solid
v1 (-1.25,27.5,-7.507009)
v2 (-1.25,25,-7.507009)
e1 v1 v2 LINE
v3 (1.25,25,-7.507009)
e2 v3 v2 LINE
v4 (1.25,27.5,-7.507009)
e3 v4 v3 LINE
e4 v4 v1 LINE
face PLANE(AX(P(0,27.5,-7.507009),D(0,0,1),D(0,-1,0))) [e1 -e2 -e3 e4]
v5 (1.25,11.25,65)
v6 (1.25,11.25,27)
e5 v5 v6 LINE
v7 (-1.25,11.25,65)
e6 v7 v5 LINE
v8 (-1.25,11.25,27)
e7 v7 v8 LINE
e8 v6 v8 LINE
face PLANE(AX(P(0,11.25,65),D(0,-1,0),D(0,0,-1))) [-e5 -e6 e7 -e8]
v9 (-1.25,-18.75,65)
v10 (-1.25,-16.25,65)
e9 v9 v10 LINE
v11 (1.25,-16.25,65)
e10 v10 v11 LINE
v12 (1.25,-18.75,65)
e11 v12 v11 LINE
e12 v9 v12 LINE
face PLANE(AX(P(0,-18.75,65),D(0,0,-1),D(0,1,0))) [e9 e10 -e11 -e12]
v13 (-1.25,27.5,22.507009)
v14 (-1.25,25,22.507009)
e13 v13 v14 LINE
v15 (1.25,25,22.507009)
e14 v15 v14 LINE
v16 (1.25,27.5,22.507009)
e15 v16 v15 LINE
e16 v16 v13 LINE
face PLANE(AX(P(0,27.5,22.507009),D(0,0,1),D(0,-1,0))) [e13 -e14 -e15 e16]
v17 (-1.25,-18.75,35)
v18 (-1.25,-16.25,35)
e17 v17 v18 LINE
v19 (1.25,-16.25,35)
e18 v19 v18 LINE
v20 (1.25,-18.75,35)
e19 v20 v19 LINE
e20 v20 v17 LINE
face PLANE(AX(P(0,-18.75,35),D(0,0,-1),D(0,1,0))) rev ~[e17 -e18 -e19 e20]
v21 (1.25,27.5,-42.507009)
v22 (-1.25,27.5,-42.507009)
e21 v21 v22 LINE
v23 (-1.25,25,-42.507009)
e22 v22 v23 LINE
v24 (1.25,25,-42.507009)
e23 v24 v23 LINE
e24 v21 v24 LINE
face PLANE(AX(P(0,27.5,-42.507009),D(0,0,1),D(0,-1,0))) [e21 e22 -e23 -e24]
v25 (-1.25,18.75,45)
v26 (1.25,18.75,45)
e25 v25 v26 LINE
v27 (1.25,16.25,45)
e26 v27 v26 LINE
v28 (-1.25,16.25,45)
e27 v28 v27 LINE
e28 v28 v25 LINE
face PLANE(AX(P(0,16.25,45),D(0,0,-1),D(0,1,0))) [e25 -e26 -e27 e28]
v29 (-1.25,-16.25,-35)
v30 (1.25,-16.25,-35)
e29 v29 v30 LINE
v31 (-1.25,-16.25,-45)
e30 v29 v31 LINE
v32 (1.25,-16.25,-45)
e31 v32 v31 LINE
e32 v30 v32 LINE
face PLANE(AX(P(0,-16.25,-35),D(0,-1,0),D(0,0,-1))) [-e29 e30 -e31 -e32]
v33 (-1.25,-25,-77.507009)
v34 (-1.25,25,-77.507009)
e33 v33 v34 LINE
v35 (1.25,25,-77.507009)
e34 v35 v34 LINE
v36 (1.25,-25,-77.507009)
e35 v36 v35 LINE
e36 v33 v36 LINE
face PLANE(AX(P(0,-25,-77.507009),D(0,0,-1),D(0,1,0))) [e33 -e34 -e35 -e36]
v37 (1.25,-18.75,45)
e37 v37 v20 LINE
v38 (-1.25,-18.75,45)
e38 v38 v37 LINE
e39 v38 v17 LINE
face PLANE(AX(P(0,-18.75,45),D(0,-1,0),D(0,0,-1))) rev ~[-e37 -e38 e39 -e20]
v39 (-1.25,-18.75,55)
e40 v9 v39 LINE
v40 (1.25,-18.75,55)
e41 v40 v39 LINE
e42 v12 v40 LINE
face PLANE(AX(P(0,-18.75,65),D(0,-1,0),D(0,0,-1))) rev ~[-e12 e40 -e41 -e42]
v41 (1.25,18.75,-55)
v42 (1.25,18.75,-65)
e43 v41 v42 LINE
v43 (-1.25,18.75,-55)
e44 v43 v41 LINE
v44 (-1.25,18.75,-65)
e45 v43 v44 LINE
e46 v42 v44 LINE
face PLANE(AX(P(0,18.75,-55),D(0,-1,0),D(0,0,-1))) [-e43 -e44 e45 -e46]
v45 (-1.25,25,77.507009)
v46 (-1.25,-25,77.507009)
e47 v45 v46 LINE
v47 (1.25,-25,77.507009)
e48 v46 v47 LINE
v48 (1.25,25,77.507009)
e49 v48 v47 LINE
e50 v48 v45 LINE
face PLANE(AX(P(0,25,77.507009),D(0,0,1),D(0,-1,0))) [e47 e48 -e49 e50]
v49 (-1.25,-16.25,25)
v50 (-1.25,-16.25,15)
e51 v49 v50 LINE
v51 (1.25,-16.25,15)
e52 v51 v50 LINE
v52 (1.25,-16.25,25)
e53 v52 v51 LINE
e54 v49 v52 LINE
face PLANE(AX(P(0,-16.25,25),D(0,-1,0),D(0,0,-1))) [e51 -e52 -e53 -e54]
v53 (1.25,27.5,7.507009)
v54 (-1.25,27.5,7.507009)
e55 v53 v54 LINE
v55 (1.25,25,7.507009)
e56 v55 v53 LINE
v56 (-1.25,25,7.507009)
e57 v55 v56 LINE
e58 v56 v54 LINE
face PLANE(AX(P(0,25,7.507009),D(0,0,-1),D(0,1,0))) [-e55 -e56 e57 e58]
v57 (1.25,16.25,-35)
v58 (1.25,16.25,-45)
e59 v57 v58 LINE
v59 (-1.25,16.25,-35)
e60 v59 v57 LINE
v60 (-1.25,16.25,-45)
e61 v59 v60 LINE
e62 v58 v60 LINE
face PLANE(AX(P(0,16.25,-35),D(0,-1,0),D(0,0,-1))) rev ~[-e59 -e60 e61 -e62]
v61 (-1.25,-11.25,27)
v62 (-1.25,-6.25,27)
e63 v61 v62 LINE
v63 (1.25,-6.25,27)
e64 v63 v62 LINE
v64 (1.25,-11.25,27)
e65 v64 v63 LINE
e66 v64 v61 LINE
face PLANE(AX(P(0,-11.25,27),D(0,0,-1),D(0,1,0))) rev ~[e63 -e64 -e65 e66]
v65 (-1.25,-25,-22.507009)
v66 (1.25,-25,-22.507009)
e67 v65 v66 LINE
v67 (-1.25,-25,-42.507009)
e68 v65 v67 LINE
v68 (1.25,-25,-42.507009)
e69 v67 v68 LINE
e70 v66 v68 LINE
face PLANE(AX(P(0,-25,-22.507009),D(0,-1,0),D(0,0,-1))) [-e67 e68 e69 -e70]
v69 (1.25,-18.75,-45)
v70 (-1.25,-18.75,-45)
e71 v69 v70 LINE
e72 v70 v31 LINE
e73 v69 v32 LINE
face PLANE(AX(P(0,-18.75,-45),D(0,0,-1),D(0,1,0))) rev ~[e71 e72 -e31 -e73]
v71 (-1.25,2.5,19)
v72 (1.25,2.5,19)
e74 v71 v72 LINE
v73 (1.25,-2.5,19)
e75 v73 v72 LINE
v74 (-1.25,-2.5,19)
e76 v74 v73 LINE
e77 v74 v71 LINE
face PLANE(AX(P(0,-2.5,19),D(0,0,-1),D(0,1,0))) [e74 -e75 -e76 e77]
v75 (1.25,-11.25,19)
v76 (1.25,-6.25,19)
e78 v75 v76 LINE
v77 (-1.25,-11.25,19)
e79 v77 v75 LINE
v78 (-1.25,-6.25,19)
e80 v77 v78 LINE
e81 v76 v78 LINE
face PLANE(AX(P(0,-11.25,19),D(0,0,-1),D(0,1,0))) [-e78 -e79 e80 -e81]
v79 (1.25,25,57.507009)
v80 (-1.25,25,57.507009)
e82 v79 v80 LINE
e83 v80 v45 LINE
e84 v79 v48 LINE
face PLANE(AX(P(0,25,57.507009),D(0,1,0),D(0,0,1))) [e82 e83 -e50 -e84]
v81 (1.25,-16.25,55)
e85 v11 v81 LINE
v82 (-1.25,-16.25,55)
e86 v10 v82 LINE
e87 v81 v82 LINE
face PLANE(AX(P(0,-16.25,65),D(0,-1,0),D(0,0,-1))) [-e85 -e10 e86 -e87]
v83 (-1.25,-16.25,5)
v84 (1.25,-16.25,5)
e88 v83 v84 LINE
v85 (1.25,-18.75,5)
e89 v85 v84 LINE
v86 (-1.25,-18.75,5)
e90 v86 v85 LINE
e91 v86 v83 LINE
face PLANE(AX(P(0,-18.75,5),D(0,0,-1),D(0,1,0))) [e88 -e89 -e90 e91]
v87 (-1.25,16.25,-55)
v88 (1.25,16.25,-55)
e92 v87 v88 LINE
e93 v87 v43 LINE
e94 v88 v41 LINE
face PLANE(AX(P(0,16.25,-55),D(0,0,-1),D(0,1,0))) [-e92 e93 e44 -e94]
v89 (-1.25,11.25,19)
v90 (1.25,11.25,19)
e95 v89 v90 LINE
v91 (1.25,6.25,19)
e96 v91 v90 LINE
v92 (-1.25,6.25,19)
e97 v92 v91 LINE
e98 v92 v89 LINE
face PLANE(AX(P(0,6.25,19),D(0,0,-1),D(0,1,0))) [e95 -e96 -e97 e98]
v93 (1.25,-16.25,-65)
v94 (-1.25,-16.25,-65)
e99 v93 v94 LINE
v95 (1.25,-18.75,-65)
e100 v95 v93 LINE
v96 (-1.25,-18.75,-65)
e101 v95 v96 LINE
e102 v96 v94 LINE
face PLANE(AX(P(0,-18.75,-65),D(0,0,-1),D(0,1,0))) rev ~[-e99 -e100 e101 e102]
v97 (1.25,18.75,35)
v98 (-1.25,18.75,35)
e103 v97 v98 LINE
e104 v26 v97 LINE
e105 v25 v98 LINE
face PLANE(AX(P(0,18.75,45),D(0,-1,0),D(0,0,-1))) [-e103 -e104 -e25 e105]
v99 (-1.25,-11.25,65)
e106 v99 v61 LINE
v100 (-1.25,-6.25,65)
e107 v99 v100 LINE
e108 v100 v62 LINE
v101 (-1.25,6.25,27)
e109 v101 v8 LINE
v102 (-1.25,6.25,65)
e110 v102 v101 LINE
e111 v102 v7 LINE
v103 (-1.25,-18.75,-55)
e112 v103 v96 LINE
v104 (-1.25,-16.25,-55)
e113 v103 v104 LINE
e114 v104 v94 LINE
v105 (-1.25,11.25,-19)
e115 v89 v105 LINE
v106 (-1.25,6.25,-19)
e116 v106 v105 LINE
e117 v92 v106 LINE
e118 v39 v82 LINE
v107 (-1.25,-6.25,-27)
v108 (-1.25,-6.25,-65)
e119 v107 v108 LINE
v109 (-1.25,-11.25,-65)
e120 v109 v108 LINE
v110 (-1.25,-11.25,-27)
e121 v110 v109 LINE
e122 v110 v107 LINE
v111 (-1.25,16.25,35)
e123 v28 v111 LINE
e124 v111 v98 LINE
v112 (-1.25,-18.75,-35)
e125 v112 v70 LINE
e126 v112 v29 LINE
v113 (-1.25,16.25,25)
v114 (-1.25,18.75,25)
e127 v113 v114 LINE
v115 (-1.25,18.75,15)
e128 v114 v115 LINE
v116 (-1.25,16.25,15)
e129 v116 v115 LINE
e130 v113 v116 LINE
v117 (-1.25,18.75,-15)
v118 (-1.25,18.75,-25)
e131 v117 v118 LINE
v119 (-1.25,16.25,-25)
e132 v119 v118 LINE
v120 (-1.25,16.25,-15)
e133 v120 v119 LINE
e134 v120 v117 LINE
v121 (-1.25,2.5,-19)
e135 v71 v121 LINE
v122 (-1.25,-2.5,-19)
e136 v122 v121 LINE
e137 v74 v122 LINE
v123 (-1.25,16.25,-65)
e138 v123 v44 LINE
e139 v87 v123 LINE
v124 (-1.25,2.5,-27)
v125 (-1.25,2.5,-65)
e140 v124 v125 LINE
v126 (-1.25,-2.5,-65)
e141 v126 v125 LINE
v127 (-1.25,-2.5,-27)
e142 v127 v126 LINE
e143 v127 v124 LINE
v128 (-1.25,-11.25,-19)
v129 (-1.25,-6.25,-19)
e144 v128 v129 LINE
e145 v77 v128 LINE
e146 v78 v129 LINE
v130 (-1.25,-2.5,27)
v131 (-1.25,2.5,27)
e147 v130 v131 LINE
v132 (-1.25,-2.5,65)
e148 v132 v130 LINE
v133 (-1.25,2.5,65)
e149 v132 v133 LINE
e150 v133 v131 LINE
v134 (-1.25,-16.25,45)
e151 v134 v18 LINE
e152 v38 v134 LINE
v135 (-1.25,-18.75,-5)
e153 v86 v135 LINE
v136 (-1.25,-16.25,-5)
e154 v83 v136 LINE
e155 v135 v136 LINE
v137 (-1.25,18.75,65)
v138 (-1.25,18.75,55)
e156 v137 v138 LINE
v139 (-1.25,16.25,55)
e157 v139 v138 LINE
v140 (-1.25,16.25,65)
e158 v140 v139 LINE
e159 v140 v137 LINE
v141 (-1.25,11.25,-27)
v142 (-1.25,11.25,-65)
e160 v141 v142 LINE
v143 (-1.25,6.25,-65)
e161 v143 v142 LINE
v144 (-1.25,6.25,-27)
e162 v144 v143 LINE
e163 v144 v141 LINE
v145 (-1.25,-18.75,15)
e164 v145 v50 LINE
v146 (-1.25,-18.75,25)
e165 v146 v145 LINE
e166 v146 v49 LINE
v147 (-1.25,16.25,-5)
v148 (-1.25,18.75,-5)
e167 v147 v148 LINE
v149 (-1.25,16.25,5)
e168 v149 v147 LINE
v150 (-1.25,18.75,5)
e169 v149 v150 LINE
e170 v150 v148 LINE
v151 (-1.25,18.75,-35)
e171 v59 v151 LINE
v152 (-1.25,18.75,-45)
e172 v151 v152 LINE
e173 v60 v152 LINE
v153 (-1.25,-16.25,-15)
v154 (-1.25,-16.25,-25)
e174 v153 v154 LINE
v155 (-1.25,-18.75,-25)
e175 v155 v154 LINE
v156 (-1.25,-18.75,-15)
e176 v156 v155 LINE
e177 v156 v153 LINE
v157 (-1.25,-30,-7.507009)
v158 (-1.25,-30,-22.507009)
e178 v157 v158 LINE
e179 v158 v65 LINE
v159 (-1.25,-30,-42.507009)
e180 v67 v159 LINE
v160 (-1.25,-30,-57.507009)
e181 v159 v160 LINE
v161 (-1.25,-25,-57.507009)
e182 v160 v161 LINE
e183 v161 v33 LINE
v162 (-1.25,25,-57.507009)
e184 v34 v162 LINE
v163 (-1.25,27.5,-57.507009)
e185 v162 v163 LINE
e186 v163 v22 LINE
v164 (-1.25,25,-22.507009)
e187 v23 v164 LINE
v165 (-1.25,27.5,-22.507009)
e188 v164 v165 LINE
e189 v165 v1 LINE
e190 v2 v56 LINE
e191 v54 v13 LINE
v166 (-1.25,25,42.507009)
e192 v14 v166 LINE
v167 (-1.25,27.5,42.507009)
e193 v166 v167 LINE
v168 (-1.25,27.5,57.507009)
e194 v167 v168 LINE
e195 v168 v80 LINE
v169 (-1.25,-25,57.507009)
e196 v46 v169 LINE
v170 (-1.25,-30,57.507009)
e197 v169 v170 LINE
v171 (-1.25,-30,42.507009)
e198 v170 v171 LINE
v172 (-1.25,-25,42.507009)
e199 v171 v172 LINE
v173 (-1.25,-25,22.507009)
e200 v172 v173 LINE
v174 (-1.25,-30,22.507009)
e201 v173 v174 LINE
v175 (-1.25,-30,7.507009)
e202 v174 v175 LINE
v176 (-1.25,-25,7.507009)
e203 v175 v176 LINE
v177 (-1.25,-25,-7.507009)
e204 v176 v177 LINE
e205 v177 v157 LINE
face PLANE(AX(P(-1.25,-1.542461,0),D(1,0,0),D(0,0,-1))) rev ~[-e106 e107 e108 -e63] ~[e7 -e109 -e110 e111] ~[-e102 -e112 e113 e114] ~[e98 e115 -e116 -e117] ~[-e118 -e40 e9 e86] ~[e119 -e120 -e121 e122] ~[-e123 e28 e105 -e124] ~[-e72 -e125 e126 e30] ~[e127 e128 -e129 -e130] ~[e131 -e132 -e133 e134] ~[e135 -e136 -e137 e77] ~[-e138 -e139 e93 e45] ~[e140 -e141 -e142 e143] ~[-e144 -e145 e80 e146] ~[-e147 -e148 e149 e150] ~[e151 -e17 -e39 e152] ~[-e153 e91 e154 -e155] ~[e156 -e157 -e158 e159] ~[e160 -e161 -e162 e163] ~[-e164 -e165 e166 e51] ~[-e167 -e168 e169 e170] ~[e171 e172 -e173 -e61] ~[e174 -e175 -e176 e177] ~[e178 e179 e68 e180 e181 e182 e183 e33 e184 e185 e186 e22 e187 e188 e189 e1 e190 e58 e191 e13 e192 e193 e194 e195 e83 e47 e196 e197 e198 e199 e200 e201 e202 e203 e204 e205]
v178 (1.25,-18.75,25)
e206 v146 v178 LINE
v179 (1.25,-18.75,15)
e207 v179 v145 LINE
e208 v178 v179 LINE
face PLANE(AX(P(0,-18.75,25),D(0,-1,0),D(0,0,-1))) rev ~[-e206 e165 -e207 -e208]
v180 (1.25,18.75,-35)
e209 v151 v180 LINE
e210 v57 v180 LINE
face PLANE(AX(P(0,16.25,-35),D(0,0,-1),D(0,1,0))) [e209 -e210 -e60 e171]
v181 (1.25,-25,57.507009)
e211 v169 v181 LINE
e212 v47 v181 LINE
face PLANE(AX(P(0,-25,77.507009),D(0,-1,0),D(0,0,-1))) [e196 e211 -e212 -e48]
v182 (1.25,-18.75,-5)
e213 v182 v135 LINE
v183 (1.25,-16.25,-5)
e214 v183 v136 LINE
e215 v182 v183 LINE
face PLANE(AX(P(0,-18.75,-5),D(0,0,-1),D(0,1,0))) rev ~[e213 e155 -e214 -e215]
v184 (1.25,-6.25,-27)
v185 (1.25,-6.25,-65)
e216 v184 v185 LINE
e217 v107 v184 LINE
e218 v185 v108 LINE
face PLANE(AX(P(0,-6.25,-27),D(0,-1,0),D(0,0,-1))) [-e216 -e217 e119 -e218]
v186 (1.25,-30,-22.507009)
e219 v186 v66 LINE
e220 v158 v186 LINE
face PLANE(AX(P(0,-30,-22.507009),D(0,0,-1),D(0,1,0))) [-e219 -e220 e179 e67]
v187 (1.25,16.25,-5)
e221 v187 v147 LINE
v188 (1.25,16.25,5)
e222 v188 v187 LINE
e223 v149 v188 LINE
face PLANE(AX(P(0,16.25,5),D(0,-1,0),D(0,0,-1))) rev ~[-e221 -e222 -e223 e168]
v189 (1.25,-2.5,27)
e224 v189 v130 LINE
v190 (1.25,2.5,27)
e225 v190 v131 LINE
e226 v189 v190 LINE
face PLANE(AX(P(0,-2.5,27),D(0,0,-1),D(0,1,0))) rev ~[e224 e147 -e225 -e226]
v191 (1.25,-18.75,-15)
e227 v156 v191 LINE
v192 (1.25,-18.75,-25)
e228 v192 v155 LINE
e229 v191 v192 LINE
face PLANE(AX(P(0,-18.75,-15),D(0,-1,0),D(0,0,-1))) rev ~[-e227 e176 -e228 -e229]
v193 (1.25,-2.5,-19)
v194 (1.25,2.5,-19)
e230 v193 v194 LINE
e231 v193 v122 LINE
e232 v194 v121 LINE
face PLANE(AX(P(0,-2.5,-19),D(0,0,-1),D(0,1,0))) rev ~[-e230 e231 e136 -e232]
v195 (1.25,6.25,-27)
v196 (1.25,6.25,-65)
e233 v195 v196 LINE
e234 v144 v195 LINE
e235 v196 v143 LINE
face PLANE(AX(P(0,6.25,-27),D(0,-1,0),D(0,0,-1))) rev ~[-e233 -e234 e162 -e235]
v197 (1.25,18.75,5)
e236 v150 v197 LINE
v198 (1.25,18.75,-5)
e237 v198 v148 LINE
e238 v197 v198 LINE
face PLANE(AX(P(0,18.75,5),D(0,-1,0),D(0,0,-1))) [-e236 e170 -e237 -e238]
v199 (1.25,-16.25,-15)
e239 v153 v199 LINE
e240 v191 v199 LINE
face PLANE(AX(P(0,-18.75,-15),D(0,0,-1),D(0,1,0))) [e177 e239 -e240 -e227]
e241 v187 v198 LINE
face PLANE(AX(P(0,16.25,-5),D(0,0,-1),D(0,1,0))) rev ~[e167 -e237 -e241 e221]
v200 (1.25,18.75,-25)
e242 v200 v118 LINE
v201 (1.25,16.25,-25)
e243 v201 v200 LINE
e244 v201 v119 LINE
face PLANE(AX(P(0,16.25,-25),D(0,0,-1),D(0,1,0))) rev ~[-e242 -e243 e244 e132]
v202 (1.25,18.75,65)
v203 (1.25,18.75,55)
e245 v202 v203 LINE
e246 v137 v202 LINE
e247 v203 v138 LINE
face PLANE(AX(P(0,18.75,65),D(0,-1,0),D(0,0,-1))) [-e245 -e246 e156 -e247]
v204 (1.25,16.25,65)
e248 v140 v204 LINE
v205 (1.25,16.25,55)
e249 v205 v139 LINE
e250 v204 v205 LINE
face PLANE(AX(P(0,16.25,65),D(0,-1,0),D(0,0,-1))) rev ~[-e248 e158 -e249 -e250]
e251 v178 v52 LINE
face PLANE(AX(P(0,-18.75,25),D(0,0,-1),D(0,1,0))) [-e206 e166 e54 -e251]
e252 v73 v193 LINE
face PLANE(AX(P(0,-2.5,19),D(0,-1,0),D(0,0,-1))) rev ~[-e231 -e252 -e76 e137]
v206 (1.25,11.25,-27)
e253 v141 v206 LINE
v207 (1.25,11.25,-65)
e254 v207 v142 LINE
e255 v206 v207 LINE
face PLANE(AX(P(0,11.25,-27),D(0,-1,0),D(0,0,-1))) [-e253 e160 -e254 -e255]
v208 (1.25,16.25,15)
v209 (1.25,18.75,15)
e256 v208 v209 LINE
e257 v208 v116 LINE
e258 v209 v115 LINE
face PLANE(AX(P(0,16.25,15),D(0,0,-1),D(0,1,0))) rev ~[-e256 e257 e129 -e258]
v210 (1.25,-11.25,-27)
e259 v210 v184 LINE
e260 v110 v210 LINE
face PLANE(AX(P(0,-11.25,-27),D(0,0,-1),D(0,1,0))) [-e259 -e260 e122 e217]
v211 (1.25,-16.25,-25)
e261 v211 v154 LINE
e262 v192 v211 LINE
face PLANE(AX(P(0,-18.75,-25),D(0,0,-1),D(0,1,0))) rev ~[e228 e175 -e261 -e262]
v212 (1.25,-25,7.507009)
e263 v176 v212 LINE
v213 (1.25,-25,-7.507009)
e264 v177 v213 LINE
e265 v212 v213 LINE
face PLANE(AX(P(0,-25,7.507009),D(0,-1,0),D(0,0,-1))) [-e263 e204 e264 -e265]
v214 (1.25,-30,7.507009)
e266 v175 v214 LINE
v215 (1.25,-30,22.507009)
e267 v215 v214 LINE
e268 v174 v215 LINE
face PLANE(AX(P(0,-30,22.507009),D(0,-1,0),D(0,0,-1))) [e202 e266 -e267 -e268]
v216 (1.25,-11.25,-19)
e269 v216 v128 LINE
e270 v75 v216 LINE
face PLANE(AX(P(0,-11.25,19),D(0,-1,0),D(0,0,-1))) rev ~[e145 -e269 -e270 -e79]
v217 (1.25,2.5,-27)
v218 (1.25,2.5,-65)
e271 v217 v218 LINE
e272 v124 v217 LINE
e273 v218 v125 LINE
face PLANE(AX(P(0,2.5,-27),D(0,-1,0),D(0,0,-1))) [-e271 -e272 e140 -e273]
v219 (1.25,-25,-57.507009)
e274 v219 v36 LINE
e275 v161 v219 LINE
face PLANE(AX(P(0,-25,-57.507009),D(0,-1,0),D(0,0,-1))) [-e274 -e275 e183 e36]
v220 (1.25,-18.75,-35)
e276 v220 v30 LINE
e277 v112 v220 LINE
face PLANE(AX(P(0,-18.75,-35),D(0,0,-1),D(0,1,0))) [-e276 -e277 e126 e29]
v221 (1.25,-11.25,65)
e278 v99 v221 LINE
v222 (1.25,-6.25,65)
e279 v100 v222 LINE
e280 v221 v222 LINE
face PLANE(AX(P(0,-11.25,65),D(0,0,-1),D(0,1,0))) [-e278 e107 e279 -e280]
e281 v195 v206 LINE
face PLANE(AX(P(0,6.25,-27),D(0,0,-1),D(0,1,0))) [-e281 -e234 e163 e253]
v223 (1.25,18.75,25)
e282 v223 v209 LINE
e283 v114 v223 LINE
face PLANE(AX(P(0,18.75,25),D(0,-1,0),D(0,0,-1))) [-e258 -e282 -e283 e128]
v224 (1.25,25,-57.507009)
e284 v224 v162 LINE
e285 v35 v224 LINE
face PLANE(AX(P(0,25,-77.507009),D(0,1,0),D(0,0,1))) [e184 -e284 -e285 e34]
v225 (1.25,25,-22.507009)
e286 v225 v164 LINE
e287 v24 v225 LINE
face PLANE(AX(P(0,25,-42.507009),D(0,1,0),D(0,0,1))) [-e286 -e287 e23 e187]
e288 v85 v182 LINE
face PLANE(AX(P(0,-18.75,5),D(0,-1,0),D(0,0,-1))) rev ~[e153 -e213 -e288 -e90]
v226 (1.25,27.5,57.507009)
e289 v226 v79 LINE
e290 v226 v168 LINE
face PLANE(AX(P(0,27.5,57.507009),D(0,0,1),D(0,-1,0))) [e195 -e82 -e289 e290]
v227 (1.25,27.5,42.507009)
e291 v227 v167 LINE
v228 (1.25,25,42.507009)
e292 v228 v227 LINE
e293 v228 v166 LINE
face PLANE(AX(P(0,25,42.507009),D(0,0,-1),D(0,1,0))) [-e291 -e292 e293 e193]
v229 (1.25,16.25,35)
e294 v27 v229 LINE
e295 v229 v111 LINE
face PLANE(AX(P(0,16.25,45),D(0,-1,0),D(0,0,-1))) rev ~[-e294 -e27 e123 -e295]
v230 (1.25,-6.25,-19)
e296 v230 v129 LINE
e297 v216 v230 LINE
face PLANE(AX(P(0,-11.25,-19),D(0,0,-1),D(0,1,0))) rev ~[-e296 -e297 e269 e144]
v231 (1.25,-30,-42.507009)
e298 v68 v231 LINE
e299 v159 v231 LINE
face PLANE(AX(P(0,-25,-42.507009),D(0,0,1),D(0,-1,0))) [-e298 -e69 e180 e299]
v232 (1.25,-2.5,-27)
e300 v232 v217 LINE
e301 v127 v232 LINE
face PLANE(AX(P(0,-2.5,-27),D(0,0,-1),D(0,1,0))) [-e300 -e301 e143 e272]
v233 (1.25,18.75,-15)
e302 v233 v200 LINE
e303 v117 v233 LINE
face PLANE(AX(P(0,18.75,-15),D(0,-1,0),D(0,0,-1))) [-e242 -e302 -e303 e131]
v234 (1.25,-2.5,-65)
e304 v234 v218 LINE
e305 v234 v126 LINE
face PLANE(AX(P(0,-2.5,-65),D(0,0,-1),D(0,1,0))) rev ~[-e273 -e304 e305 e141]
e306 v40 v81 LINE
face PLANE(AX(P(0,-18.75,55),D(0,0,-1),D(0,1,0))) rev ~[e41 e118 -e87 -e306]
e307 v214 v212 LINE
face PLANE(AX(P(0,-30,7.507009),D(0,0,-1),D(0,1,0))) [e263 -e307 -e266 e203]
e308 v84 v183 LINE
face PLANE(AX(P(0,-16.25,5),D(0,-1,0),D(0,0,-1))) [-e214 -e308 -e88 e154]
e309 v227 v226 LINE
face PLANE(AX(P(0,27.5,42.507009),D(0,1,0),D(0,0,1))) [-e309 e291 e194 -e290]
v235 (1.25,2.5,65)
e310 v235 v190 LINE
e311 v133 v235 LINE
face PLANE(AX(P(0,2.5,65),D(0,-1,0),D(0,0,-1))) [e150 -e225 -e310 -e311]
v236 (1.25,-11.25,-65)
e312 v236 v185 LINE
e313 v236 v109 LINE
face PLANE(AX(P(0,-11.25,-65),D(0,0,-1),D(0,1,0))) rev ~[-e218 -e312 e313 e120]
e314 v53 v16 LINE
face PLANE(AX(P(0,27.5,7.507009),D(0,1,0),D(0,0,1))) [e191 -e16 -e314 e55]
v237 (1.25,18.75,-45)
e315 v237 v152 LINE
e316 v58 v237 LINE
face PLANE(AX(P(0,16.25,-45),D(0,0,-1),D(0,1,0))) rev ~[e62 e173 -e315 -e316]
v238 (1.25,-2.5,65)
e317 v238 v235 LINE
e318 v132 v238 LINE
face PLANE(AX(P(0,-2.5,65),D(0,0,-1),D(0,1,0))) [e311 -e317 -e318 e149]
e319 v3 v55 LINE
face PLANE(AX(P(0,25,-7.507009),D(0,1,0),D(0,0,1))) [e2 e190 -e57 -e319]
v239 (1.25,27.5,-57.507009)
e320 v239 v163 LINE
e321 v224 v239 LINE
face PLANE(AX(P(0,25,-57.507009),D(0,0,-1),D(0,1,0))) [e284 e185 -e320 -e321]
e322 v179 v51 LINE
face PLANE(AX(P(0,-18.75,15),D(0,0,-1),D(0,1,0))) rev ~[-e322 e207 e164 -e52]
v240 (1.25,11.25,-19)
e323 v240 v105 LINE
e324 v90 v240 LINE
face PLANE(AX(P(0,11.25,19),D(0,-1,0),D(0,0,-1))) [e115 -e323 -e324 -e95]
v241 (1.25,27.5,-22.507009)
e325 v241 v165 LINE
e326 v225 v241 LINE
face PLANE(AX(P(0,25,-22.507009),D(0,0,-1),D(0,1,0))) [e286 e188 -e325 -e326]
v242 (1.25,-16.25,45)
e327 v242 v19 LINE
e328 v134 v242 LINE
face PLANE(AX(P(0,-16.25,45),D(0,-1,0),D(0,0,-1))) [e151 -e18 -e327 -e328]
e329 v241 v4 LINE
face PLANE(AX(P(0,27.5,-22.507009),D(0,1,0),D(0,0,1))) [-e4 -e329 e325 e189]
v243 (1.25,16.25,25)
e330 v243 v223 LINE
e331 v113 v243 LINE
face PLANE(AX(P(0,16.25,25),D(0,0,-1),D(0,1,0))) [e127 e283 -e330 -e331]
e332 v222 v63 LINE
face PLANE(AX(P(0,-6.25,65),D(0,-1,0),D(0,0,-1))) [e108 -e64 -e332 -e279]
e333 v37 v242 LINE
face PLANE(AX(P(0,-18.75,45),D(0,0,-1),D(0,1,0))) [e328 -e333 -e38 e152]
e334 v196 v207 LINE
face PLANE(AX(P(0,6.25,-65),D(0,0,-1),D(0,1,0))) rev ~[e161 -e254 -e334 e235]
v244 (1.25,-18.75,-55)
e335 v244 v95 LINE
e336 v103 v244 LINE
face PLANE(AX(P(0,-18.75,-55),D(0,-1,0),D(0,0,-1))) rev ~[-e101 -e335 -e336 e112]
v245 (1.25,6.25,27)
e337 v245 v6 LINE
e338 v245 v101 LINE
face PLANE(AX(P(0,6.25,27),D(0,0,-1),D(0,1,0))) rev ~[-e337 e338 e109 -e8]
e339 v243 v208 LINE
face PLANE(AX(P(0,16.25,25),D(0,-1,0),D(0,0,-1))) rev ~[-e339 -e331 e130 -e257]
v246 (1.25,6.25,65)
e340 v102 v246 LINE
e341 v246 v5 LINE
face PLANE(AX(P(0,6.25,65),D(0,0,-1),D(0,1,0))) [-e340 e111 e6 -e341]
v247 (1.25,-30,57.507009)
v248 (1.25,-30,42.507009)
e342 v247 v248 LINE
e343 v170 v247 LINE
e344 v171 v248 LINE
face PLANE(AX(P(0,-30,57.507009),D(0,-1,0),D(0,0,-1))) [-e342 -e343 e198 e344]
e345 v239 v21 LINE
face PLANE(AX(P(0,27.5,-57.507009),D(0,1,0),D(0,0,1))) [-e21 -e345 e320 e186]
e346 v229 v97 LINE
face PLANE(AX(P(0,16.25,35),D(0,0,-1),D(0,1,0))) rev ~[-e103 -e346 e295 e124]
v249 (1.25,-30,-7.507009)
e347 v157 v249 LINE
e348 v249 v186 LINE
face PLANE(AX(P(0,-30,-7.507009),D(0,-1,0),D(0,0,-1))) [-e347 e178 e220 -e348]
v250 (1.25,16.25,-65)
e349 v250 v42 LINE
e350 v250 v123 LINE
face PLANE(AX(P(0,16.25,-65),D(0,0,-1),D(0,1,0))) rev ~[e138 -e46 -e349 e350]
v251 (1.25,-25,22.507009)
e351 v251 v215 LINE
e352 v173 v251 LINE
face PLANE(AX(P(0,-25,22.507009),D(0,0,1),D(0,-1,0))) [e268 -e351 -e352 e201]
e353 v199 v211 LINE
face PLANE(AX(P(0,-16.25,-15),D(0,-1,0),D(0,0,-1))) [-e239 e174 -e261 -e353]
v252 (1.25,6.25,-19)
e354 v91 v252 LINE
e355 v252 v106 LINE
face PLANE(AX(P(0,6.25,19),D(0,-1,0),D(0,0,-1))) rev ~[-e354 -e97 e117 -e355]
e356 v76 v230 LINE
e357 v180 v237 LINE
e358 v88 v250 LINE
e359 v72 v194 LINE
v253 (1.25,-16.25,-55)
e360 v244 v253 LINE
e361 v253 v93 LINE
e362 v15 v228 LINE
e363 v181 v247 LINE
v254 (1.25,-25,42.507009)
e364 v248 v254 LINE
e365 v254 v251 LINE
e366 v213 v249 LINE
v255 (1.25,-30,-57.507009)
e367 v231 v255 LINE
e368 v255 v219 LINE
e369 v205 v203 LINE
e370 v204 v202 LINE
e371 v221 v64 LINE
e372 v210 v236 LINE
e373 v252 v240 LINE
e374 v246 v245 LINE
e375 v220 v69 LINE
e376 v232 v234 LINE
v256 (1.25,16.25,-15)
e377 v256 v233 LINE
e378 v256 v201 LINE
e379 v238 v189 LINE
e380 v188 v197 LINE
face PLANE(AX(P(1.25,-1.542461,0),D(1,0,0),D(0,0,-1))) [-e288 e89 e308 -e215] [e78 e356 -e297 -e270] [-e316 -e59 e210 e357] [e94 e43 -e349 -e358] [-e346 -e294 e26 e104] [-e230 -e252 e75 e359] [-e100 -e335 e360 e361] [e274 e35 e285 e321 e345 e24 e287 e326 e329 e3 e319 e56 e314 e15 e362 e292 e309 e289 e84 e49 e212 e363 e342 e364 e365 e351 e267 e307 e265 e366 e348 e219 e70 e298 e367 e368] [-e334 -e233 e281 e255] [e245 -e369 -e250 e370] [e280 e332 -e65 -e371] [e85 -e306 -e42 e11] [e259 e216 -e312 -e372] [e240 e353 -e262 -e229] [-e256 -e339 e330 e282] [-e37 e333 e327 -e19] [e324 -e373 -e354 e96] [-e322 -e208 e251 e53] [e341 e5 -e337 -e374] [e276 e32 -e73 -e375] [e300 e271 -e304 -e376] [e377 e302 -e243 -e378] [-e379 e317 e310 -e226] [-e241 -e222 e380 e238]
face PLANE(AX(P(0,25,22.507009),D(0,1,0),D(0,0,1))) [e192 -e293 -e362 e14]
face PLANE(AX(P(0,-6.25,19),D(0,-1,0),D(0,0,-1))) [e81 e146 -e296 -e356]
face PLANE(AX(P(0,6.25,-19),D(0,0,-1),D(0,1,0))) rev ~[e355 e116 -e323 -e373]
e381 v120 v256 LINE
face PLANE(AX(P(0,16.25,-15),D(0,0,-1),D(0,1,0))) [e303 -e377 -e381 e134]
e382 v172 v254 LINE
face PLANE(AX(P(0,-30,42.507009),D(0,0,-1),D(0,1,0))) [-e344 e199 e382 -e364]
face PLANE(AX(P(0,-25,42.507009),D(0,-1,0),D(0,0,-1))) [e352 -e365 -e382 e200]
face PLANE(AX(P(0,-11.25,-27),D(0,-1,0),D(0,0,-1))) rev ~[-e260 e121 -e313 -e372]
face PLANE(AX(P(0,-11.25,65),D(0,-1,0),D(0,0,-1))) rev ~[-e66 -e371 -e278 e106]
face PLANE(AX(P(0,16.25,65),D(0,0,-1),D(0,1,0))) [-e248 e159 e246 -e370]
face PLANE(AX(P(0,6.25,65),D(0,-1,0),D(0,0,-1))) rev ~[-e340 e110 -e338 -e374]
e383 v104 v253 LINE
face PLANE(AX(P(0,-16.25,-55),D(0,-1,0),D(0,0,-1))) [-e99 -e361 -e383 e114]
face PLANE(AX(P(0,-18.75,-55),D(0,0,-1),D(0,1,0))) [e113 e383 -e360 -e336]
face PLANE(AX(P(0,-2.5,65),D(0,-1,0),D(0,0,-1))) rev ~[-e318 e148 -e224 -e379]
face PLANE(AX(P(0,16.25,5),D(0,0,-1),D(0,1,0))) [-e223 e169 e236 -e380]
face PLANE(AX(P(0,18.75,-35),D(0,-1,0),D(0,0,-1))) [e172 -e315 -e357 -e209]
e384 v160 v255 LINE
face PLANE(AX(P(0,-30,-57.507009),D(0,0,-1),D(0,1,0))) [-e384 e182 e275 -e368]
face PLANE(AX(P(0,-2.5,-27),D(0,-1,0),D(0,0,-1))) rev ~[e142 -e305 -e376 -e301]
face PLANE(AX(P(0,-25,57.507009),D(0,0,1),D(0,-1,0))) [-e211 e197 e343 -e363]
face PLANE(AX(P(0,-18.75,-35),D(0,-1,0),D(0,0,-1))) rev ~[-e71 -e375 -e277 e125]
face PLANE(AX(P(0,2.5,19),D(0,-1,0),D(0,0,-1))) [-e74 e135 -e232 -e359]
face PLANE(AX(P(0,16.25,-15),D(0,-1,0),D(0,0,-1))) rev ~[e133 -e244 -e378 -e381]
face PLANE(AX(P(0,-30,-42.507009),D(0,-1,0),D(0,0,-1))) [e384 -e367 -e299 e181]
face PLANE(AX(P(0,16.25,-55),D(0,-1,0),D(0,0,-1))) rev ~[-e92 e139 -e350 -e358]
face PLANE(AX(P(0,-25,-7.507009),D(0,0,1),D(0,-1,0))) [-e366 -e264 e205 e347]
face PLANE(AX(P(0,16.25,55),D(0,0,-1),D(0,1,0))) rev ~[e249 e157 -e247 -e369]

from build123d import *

# Parameters (mm, degrees)
SKETCH1_W           = 10
SKETCH1_H           = 2.5
SKETCH1_W_2         = 38
SKETCH1_H_2         = 5
BOSS_EXTRUDE1_DEPTH = 1.25


with BuildPart() as part:
    # Sketch1 → Boss-Extrude1 (new, symmetric)
    with BuildSketch(Plane(origin=(0, 0, 0), x_dir=(0, 0, -1), z_dir=(1, 0, 0))):
        Polygon((-77.50700933, 25), (-77.50700933, -25), (-57.50700933, -25), (-57.50700933, -30), (-42.50700933, -30), (-42.50700933, -25), (-22.50700933, -25), (-22.50700933, -30), (-7.50700933, -30), (-7.50700933, -25), (7.50700933, -25), (7.50700933, -30), (22.50700933, -30), (22.50700933, -25), (42.50700933, -25), (42.50700933, -30), (57.50700933, -30), (57.50700933, -25), (77.50700933, -25), (77.50700933, 25), (57.50700933, 25), (57.50700933, 27.5), (42.50700933, 27.5), (42.50700933, 25), (22.50700933, 25), (22.50700933, 27.5), (7.50700933, 27.5), (7.50700933, 25), (-7.50700933, 25), (-7.50700933, 27.5), (-22.50700933, 27.5), (-22.50700933, 25), (-42.50700933, 25), (-42.50700933, 27.5), (-57.50700933, 27.5), (-57.50700933, 25), align=None)
        with Locations((0, 17.5)):
            Rectangle(SKETCH1_W, SKETCH1_H, mode=Mode.SUBTRACT)
        with Locations((-46, -8.75)):
            Rectangle(SKETCH1_W_2, SKETCH1_H_2, mode=Mode.SUBTRACT)
        with Locations((0, -17.5)):
            Rectangle(SKETCH1_W, SKETCH1_H, mode=Mode.SUBTRACT)
        with Locations((-20, -17.5)):
            Rectangle(SKETCH1_W, SKETCH1_H, mode=Mode.SUBTRACT)
        with Locations((-20, 17.5)):
            Rectangle(SKETCH1_W, SKETCH1_H, mode=Mode.SUBTRACT)
        with Locations((-40, -17.5)):
            Rectangle(SKETCH1_W, SKETCH1_H, mode=Mode.SUBTRACT)
        with Locations((-40, 17.5)):
            Rectangle(SKETCH1_W, SKETCH1_H, mode=Mode.SUBTRACT)
        with Locations((-60, -17.5)):
            Rectangle(SKETCH1_W, SKETCH1_H, mode=Mode.SUBTRACT)
        with Locations((-60, 17.5)):
            Rectangle(SKETCH1_W, SKETCH1_H, mode=Mode.SUBTRACT)
        with Locations((20, -17.5)):
            Rectangle(SKETCH1_W, SKETCH1_H, mode=Mode.SUBTRACT)
        with Locations((20, 17.5)):
            Rectangle(SKETCH1_W, SKETCH1_H, mode=Mode.SUBTRACT)
        with Locations((40, -17.5)):
            Rectangle(SKETCH1_W, SKETCH1_H, mode=Mode.SUBTRACT)
        with Locations((40, 17.5)):
            Rectangle(SKETCH1_W, SKETCH1_H, mode=Mode.SUBTRACT)
        with Locations((60, -17.5)):
            Rectangle(SKETCH1_W, SKETCH1_H, mode=Mode.SUBTRACT)
        with Locations((60, 17.5)):
            Rectangle(SKETCH1_W, SKETCH1_H, mode=Mode.SUBTRACT)
        with Locations((0, 8.75)):
            Rectangle(SKETCH1_W_2, SKETCH1_H_2, mode=Mode.SUBTRACT)
        with Locations((46, 8.75)):
            Rectangle(SKETCH1_W_2, SKETCH1_H_2, mode=Mode.SUBTRACT)
        with Locations((-46, 0)):
            Rectangle(SKETCH1_W_2, SKETCH1_H_2, mode=Mode.SUBTRACT)
        with Locations((-46, 8.75)):
            Rectangle(SKETCH1_W_2, SKETCH1_H_2, mode=Mode.SUBTRACT)
        with Locations((46, -8.75)):
            Rectangle(SKETCH1_W_2, SKETCH1_H_2, mode=Mode.SUBTRACT)
        with Locations((46, 0)):
            Rectangle(SKETCH1_W_2, SKETCH1_H_2, mode=Mode.SUBTRACT)
        Rectangle(SKETCH1_W_2, SKETCH1_H_2, mode=Mode.SUBTRACT)
        with Locations((0, -8.75)):
            Rectangle(SKETCH1_W_2, SKETCH1_H_2, mode=Mode.SUBTRACT)
    extrude(amount=BOSS_EXTRUDE1_DEPTH, both=True)


solid = part.part
